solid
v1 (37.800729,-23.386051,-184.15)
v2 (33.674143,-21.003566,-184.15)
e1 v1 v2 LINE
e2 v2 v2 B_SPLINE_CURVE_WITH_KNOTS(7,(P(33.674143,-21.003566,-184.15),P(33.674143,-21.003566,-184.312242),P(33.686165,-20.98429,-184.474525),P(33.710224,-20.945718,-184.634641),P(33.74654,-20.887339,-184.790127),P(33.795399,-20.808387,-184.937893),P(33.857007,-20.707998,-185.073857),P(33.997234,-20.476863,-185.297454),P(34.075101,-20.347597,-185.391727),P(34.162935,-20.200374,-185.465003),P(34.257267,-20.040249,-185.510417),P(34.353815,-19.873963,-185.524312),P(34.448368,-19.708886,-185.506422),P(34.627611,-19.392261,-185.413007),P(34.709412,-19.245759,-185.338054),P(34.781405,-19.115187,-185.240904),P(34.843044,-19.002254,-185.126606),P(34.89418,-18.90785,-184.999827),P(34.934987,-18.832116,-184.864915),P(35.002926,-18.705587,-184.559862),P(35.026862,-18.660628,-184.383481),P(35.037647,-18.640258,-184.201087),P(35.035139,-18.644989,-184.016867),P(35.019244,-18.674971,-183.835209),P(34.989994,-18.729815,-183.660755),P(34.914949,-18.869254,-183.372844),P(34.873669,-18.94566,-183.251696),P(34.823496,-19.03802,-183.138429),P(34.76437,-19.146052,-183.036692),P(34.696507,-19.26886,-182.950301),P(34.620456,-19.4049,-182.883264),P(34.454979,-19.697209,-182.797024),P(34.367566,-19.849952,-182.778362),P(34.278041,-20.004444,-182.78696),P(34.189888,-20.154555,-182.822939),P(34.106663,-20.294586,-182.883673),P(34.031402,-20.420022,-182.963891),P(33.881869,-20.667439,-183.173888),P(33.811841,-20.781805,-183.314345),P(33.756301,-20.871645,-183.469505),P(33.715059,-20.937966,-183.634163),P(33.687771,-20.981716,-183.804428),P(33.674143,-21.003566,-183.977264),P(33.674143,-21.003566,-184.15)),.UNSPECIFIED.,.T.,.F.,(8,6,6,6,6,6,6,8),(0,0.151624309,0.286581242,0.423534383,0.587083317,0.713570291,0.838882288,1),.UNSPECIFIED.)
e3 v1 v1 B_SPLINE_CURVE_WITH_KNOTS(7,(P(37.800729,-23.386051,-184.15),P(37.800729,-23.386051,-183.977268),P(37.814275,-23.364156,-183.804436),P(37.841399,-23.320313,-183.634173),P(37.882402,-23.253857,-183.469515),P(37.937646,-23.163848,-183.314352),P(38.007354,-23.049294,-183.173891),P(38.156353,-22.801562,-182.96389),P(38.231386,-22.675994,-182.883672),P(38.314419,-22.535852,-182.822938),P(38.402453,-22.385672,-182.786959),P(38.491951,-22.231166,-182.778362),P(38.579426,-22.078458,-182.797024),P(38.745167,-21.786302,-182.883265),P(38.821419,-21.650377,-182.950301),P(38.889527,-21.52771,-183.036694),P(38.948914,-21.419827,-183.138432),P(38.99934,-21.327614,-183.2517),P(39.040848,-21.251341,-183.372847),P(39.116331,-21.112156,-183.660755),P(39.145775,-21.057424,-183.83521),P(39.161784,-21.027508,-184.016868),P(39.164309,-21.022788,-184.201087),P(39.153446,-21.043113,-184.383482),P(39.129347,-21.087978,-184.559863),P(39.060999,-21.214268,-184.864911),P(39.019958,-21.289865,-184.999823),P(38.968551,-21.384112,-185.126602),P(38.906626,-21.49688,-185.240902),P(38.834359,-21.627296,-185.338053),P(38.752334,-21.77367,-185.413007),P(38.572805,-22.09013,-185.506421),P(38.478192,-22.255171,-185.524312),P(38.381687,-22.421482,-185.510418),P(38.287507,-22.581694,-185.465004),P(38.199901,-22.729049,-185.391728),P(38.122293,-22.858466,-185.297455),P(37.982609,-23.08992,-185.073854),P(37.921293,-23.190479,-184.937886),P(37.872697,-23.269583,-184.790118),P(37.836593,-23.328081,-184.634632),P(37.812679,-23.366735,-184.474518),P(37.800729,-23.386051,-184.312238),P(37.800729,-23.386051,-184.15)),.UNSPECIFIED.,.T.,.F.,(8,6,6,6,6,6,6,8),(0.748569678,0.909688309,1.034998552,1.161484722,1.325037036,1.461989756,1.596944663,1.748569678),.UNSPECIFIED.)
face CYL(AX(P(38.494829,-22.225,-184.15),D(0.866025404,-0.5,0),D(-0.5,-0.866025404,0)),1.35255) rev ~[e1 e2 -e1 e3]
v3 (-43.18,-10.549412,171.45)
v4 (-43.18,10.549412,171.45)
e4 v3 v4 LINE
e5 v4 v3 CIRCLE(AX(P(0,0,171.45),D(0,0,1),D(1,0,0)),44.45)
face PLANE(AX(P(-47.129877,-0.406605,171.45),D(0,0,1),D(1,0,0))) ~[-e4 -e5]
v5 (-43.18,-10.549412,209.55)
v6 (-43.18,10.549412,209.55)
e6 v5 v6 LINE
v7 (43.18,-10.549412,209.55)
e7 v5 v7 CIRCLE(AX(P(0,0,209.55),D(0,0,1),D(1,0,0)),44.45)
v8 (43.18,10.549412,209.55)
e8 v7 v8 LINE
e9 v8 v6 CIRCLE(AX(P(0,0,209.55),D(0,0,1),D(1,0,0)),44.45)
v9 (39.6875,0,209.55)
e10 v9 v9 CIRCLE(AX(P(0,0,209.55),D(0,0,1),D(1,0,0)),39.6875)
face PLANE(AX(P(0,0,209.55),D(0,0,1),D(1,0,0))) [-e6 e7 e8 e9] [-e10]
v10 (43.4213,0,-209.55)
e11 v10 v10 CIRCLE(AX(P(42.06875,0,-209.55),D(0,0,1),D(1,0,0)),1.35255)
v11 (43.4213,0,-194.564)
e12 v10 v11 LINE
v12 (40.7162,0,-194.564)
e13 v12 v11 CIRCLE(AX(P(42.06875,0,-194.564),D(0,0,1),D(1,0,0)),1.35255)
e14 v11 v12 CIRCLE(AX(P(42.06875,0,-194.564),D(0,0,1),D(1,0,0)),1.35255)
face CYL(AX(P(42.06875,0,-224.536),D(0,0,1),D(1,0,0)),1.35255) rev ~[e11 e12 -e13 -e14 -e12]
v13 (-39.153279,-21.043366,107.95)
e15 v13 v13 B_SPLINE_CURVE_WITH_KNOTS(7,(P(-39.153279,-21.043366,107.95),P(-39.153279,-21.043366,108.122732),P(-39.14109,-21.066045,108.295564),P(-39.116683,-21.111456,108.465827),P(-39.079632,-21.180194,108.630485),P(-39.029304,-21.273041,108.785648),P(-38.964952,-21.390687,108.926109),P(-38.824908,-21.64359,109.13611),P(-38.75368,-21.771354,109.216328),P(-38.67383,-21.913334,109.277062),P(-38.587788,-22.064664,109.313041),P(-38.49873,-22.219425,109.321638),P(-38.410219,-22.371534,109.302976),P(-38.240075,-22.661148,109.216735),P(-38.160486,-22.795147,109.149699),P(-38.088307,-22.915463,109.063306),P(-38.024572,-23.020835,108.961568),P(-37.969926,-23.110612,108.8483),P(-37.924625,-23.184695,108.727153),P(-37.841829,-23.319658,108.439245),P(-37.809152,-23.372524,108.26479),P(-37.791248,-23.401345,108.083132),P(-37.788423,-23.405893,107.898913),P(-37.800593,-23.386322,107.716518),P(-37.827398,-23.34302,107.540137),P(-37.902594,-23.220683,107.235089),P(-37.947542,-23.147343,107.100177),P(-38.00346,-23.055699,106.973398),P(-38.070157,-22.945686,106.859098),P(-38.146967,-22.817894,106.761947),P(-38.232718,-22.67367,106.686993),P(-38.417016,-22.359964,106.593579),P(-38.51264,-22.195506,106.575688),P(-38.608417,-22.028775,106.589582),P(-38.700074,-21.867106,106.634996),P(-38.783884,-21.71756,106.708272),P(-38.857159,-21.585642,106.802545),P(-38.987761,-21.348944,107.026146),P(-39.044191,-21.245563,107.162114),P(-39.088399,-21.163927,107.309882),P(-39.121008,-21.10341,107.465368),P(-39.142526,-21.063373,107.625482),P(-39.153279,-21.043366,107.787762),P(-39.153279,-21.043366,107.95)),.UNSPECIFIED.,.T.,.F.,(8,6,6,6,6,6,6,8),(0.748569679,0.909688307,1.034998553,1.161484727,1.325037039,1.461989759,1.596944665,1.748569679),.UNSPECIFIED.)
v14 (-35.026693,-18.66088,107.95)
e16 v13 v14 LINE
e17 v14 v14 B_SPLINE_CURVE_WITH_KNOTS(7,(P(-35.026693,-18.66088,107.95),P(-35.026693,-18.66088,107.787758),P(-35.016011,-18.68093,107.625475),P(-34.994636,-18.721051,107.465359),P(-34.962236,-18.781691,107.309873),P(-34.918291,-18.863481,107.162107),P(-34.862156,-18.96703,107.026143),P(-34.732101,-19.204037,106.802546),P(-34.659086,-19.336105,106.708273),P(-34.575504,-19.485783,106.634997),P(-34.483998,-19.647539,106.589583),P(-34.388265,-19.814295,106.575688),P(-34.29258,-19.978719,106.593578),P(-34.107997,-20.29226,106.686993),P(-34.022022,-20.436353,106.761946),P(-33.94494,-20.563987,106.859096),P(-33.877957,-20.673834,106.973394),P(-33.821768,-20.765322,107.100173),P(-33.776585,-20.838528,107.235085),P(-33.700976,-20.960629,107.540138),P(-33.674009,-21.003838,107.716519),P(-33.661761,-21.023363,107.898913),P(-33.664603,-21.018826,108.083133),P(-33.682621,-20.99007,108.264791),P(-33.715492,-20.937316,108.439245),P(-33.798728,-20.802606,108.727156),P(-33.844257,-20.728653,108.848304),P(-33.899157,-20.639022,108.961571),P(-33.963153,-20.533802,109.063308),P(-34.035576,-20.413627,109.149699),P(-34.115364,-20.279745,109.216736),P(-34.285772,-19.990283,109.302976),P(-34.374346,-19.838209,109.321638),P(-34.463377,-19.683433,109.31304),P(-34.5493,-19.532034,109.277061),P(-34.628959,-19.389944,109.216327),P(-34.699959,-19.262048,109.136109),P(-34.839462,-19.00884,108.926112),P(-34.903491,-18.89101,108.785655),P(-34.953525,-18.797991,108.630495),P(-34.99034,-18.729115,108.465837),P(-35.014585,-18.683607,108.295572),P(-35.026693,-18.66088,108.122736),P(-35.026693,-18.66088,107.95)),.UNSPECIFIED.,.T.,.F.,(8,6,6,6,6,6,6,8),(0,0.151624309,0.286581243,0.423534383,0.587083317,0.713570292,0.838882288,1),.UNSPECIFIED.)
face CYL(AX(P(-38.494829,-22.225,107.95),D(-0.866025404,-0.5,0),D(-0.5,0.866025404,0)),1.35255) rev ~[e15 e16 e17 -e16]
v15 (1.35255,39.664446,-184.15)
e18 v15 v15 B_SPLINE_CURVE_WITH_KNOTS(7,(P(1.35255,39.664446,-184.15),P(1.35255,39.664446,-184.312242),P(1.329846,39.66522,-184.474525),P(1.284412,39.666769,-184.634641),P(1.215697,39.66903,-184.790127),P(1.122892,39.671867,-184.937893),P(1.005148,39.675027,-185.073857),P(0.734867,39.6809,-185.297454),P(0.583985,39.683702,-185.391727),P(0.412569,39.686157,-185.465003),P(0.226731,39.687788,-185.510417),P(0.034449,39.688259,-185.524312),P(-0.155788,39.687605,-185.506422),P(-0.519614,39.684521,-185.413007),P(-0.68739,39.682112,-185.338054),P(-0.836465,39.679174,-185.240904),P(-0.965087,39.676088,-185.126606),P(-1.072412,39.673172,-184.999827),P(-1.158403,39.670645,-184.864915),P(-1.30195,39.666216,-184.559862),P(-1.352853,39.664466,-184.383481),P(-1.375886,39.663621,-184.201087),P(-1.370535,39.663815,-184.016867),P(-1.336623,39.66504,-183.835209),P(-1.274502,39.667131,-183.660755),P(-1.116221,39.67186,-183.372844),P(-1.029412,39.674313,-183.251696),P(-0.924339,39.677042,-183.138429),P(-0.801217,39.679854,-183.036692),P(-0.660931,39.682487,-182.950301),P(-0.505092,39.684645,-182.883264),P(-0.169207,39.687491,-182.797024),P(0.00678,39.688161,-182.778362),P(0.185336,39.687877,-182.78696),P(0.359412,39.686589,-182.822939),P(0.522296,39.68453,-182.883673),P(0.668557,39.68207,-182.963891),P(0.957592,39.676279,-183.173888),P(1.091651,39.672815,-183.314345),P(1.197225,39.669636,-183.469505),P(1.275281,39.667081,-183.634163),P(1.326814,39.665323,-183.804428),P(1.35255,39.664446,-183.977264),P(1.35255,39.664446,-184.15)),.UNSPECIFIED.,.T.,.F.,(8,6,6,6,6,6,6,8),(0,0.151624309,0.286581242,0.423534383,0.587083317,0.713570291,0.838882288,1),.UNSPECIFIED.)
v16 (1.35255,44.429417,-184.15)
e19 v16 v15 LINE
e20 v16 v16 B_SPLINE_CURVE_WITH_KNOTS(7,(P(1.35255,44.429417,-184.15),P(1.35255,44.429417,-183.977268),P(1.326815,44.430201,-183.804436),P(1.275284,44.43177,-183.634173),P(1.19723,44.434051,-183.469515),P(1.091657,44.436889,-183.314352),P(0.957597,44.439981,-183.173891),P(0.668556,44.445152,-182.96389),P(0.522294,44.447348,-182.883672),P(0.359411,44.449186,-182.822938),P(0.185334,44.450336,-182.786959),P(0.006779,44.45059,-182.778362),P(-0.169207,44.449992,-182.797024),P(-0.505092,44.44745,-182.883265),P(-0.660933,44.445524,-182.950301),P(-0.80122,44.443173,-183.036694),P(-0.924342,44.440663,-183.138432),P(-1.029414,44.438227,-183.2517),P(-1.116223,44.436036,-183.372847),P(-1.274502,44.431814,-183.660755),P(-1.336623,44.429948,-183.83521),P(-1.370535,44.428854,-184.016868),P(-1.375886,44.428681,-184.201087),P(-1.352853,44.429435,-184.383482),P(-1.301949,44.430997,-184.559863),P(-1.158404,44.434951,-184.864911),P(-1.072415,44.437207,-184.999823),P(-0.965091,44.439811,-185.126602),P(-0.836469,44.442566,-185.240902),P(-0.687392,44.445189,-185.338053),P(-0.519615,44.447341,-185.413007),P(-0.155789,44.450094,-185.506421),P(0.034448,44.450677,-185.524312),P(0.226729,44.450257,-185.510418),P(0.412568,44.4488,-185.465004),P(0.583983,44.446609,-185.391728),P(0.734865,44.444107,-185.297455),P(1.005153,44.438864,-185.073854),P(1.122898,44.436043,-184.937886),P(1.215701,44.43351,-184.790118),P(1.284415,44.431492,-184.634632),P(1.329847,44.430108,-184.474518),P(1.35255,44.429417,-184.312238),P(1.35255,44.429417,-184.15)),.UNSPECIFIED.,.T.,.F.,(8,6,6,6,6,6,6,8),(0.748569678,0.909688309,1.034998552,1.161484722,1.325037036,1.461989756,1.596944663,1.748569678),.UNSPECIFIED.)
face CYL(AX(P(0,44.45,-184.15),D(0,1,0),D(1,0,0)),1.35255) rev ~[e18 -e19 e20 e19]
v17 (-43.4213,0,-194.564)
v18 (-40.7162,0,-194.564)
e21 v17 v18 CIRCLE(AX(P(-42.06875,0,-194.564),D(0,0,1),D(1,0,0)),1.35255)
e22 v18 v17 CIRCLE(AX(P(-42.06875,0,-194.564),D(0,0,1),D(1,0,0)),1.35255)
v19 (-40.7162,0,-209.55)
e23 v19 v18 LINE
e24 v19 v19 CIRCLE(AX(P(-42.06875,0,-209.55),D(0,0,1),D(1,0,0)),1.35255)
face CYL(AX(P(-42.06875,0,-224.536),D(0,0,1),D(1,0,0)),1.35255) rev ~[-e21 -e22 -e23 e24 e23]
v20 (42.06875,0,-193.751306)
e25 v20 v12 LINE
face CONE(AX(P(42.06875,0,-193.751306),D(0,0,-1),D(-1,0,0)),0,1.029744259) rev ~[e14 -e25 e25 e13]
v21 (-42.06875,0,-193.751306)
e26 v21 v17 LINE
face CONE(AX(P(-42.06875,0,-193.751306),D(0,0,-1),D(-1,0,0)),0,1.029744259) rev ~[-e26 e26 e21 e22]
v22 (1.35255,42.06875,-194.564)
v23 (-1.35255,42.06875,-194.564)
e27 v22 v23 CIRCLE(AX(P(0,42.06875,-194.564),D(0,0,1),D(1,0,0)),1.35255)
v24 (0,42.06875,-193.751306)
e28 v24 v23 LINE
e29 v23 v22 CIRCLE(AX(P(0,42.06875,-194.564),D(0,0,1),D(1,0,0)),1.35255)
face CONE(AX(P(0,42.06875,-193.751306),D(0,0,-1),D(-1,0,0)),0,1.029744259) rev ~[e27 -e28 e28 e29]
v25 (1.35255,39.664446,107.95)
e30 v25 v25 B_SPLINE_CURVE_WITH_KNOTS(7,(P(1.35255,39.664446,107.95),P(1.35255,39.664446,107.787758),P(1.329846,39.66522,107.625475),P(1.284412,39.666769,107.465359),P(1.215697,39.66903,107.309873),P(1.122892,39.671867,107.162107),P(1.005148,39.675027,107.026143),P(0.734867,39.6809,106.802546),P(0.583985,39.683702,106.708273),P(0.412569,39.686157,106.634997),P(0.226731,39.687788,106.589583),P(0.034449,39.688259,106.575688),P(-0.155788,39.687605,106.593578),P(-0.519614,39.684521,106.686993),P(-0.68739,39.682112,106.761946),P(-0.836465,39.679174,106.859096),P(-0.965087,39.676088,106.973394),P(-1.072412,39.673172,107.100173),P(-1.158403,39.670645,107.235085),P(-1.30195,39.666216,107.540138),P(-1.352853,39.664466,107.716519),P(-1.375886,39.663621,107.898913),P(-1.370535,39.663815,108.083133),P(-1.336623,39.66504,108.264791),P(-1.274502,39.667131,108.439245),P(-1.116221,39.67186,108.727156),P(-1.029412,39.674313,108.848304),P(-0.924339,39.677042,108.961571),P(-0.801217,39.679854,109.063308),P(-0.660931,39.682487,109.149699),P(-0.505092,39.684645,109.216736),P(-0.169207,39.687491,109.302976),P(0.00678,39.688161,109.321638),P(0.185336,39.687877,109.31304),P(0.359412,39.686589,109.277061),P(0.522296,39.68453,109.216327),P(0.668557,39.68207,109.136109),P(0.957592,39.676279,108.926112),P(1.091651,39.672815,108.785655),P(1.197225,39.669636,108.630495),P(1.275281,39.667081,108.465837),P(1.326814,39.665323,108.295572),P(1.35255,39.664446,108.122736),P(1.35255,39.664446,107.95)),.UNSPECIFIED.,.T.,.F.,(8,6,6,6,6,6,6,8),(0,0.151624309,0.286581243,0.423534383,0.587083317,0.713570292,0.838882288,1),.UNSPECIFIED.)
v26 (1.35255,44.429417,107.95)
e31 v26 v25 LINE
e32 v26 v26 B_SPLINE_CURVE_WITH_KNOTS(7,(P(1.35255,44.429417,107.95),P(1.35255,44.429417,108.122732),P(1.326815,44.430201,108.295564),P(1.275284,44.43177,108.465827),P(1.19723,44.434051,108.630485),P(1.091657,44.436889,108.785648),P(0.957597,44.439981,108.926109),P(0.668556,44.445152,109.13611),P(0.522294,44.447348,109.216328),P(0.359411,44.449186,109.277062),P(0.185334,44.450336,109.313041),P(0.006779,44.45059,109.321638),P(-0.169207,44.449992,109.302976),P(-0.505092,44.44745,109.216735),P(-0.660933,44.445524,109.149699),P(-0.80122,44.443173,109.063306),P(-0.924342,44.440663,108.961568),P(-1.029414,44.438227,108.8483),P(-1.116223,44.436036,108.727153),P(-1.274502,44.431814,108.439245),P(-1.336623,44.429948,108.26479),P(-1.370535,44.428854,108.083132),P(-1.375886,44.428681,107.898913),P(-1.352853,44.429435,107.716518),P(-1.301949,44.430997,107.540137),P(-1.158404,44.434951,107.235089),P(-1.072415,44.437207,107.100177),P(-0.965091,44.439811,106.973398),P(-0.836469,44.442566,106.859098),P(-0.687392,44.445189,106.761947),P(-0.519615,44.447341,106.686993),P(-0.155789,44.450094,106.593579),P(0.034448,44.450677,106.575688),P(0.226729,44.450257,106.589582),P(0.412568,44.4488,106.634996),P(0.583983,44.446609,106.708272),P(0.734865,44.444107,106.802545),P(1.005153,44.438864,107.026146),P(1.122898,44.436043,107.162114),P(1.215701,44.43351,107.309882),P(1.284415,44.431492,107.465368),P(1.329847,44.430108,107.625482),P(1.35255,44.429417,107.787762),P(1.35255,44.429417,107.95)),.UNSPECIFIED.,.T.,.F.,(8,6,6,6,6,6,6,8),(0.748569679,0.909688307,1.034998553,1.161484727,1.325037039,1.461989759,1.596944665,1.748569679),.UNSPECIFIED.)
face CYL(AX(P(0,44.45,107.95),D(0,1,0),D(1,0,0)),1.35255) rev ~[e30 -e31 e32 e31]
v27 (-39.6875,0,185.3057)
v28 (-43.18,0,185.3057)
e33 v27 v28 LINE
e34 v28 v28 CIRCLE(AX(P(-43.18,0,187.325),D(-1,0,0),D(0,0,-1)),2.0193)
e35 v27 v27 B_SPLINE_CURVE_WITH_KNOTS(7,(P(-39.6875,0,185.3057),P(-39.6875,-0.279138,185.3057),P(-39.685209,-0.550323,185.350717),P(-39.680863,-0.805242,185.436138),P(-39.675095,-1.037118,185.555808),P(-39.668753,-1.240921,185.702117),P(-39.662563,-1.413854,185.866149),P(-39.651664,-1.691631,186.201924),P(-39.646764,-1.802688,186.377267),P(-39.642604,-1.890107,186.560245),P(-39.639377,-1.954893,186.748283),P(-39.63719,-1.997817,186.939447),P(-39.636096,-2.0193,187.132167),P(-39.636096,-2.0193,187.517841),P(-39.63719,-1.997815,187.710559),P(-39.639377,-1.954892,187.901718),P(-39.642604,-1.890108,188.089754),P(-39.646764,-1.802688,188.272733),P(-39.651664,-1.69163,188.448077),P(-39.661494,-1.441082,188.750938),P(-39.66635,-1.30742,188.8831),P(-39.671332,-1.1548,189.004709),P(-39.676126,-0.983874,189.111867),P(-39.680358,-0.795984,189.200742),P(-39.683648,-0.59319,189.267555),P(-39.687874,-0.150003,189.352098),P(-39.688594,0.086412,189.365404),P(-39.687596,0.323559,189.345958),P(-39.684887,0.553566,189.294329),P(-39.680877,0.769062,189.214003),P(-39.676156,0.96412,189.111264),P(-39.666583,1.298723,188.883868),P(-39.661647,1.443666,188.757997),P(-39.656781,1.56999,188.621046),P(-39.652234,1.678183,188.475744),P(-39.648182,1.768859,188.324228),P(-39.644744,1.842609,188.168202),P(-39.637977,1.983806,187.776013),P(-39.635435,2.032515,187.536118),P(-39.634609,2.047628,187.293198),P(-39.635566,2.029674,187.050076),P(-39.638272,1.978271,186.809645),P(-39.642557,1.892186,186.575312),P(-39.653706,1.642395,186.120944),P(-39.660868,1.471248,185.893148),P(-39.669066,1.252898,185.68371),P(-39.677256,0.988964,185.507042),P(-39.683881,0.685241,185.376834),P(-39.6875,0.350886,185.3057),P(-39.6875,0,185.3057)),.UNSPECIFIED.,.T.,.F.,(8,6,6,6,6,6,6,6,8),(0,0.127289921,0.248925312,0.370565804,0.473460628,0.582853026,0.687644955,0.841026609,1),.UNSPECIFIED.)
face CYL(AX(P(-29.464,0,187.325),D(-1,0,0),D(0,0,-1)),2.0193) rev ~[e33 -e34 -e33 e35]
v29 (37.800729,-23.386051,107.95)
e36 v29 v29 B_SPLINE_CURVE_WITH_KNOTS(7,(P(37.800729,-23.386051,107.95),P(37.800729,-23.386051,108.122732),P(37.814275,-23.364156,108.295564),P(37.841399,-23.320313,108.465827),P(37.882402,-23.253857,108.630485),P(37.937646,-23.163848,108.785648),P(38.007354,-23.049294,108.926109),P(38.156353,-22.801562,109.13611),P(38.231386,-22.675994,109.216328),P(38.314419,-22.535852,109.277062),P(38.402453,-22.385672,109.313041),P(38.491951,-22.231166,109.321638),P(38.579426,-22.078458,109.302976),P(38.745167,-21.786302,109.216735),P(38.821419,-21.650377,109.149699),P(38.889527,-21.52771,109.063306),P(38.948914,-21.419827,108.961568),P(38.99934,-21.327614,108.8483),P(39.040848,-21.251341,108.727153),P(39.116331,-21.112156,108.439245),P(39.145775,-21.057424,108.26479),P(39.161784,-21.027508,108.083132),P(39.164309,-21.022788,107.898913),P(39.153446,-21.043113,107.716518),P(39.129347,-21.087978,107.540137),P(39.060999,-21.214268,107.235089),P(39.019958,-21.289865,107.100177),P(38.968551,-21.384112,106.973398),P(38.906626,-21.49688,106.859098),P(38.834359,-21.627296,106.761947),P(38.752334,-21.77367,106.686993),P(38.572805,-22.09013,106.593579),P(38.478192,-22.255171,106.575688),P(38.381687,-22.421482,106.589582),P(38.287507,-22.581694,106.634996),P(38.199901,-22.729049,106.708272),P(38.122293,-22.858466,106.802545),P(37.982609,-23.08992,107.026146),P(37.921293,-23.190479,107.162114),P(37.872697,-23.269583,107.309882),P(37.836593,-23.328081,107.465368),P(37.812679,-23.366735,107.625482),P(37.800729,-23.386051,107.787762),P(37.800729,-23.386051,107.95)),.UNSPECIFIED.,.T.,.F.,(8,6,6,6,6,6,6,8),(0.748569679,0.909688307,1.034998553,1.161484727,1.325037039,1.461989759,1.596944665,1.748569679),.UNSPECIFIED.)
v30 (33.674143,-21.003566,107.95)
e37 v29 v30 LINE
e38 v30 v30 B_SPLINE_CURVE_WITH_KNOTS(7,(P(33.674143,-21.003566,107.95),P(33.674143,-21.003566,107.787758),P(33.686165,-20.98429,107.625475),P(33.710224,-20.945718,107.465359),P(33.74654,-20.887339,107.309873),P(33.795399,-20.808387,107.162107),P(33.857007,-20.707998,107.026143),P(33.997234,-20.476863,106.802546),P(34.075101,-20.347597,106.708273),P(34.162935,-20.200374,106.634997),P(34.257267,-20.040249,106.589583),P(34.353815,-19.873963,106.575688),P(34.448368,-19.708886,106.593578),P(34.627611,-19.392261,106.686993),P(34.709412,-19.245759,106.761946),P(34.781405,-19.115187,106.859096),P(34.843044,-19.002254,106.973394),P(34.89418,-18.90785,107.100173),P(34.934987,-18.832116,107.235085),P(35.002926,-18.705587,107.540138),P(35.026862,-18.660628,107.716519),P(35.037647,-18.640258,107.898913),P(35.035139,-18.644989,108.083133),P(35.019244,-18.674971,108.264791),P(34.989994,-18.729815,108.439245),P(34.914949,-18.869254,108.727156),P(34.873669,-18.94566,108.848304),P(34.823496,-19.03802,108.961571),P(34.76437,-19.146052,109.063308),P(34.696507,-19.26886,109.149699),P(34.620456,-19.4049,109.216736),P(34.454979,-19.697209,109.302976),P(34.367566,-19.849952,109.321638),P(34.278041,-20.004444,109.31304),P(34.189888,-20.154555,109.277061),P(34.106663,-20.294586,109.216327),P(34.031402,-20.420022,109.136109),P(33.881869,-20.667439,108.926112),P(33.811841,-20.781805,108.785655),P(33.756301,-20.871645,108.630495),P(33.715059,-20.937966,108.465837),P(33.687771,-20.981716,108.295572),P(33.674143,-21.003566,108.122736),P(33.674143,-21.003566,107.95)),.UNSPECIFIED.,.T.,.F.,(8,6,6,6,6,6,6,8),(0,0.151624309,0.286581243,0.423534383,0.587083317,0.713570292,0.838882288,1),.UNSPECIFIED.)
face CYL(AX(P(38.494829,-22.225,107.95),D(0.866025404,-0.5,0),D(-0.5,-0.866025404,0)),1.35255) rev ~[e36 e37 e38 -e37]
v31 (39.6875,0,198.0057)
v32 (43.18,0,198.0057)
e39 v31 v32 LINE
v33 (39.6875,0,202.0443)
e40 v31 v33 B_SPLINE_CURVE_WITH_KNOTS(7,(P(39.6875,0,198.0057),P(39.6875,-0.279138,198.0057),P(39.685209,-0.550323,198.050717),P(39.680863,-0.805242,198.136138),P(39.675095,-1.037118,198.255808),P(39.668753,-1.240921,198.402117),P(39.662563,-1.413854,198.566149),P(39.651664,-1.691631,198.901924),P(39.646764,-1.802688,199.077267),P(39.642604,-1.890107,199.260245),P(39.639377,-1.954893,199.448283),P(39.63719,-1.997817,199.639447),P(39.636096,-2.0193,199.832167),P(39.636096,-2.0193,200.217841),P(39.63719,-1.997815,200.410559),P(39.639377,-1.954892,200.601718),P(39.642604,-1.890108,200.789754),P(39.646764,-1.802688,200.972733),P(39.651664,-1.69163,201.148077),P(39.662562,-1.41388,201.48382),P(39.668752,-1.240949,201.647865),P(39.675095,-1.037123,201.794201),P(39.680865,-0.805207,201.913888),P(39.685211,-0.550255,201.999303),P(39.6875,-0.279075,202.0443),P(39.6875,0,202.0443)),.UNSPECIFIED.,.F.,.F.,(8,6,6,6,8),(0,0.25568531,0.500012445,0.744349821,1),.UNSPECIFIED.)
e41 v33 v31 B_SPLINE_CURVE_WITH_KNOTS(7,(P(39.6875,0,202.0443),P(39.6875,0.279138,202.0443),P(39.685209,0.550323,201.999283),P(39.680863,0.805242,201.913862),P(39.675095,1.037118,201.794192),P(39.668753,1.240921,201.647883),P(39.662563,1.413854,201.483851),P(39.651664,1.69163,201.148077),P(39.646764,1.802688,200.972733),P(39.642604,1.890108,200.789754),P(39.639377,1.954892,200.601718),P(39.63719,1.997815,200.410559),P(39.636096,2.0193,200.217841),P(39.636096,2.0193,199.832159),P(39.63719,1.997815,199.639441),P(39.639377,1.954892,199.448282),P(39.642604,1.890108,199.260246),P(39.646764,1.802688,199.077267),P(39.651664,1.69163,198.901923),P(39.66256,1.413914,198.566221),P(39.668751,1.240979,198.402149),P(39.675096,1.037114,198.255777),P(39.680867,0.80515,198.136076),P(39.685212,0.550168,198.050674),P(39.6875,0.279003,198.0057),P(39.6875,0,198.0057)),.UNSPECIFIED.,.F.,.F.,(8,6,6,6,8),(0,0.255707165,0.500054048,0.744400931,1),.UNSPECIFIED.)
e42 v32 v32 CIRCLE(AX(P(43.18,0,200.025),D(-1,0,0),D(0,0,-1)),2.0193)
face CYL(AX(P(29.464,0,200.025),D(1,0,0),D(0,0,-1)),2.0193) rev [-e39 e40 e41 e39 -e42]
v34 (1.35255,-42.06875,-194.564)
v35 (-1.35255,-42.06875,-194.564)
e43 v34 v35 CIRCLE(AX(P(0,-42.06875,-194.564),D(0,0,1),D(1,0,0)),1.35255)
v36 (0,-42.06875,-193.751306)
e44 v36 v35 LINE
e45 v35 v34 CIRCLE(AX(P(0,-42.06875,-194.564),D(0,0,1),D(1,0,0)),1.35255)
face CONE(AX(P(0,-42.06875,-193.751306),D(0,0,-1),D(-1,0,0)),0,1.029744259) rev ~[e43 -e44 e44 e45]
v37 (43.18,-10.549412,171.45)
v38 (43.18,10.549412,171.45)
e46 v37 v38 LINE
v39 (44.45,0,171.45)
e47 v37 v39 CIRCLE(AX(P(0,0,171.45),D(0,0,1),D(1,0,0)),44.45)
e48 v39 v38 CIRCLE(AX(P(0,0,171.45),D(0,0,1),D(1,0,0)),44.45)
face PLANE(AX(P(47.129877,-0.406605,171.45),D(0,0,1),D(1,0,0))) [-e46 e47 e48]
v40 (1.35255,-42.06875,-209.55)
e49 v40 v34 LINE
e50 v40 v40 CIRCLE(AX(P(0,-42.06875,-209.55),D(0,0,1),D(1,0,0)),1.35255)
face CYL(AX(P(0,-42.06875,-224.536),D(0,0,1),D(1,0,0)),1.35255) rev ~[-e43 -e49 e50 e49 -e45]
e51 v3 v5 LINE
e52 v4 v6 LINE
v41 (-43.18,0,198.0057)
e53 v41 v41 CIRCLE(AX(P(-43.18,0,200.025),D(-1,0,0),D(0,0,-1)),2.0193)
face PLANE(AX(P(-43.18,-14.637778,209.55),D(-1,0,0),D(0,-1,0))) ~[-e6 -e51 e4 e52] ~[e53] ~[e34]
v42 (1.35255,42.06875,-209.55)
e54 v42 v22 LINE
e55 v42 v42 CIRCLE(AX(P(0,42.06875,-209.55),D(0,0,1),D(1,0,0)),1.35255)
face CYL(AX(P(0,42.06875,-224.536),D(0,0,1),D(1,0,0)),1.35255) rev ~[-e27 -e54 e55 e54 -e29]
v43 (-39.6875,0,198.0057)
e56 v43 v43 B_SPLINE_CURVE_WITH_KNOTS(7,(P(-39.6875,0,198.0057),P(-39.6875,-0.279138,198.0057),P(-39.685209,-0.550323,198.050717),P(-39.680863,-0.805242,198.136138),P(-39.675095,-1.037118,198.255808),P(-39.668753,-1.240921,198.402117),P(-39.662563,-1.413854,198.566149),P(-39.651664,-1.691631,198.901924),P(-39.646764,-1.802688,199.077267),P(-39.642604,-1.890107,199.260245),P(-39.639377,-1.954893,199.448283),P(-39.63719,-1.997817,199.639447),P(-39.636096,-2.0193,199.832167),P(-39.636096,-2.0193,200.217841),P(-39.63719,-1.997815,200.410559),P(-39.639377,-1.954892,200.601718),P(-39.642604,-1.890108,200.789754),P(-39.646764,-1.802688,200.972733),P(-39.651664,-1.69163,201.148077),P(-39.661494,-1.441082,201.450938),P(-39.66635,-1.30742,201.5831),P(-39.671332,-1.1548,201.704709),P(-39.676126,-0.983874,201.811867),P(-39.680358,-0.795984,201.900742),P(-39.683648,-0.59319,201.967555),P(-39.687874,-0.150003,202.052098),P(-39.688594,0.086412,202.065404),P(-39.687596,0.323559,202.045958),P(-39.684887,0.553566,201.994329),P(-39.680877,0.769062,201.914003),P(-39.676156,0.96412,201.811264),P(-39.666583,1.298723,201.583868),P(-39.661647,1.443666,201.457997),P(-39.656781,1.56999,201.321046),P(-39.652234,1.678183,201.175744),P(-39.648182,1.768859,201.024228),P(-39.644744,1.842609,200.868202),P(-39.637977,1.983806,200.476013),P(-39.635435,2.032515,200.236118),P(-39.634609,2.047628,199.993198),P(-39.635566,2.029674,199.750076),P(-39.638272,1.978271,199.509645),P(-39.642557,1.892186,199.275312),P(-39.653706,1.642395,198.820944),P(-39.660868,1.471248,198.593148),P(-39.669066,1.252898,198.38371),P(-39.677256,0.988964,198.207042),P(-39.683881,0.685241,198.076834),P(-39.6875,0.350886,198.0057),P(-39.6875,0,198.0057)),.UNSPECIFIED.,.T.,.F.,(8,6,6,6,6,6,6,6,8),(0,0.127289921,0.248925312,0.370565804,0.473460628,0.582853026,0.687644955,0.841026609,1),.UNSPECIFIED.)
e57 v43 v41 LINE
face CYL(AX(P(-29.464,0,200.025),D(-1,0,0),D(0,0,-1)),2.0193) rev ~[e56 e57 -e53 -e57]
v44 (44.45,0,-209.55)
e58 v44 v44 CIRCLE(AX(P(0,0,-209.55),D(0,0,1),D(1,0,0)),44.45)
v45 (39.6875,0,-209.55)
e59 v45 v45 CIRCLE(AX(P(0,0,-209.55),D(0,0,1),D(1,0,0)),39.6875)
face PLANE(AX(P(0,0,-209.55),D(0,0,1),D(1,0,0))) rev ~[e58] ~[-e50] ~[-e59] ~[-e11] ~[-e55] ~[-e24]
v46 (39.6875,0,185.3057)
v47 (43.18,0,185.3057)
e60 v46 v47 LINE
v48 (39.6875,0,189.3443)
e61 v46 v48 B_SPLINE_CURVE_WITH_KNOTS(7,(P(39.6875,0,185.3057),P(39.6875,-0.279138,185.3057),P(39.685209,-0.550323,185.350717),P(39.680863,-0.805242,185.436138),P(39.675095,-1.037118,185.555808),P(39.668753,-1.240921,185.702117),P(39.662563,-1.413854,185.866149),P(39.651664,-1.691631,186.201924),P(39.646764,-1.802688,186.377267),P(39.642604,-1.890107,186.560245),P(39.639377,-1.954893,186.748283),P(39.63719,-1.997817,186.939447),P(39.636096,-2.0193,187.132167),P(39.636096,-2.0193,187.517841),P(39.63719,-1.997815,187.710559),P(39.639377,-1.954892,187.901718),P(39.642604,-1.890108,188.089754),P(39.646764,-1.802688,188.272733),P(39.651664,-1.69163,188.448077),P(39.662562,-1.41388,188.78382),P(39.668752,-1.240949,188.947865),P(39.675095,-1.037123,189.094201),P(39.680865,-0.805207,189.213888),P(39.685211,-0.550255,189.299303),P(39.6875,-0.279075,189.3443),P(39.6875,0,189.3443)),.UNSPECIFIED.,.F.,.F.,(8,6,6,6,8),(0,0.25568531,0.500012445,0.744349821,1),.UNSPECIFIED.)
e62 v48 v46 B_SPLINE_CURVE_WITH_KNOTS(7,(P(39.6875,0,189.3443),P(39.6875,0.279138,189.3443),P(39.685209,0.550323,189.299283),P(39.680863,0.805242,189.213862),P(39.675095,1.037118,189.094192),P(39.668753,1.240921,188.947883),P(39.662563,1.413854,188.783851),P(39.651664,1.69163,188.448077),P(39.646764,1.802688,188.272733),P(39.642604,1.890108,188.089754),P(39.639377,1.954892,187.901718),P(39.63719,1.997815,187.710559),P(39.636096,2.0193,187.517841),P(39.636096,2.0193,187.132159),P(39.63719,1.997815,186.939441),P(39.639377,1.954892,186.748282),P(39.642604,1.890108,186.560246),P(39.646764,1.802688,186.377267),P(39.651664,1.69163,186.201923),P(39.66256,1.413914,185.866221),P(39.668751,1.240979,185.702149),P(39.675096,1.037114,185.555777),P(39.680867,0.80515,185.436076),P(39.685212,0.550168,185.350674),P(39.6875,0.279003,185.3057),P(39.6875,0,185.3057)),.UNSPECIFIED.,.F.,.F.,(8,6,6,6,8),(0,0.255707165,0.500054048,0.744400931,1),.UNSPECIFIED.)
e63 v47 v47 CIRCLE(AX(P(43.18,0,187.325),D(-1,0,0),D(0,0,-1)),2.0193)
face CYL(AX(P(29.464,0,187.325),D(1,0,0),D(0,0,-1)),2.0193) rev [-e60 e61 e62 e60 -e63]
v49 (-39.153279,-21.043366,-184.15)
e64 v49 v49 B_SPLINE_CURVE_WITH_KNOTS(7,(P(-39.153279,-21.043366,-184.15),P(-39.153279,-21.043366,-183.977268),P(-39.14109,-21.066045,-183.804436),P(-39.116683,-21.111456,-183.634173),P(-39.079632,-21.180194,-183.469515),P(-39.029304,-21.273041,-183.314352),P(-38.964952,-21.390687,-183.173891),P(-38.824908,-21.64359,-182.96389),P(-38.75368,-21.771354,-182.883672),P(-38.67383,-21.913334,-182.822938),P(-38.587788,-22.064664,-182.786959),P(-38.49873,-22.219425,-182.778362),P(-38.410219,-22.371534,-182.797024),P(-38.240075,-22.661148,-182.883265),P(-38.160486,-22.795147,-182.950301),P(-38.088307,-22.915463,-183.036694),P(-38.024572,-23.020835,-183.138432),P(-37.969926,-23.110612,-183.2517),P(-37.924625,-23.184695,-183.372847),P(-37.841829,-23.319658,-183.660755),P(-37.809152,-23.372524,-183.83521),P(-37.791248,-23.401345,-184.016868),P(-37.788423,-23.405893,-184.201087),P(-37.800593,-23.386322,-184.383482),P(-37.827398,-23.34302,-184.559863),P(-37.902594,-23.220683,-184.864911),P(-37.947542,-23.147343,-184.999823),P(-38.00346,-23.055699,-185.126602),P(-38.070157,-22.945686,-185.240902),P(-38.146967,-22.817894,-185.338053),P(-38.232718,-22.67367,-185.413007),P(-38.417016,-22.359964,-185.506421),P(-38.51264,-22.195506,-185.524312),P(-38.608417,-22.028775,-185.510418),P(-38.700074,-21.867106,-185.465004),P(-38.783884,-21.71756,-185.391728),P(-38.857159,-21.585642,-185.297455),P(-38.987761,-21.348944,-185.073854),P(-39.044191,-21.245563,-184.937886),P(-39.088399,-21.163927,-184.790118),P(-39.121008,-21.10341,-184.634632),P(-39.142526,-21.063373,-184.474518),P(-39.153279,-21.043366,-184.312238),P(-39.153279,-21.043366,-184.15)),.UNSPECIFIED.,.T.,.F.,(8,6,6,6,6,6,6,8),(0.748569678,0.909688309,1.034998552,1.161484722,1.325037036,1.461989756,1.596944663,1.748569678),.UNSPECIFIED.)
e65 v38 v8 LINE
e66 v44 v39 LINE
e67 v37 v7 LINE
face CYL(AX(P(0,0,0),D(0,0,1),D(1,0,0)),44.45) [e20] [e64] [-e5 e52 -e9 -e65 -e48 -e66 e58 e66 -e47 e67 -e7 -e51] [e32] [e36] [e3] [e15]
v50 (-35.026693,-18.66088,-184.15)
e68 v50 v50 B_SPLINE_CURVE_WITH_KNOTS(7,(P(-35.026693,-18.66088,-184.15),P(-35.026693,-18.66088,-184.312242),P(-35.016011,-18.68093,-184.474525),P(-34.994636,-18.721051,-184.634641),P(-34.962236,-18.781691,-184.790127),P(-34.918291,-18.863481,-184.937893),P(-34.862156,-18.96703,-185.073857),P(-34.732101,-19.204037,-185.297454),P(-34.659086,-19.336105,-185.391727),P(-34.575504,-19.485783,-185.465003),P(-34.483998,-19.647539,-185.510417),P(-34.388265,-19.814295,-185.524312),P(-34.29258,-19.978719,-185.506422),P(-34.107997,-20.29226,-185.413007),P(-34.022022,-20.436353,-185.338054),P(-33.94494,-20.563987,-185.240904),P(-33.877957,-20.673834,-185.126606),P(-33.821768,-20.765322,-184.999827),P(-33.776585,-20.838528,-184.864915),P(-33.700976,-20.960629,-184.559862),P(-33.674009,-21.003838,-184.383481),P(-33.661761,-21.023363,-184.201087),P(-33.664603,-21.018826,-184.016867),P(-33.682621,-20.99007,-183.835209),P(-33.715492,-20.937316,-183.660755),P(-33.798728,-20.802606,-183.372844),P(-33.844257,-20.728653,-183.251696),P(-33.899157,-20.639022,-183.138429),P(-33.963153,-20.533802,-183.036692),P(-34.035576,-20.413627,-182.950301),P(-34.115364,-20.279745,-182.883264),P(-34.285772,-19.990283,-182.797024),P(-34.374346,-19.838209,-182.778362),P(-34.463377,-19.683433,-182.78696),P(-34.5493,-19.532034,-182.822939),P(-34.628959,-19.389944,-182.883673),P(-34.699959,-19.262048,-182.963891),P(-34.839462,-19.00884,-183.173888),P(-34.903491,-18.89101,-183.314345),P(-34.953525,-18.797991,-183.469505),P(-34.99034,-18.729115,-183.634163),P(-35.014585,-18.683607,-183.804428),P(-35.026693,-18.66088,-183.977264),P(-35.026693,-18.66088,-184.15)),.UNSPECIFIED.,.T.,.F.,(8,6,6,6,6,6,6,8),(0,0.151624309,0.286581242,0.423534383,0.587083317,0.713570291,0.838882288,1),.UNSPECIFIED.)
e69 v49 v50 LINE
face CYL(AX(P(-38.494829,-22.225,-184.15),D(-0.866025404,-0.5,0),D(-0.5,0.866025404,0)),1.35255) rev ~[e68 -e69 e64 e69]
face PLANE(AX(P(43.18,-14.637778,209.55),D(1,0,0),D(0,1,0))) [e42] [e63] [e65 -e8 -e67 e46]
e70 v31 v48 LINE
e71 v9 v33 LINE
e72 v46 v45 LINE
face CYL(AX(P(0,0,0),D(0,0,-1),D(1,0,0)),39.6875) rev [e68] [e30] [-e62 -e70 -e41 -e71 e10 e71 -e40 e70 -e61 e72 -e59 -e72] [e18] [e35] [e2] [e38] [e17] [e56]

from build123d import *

# Parameters (mm, degrees)
SKETCH1_R                       = 44.45
SKETCH1_R_2                     = 39.6875
BOSS_EXTRUDE1_DEPTH             = 209.55
SKETCH2_W                       = 7.89975339
SKETCH2_H                       = 28.462346772
CUT_EXTRUDE1_DEPTH              = 38.1
F_10_32_TAPPED_HOLE1_AT_2_COUNT = 2
F_10_32_TAPPED_HOLE1_AT_2_PITCH = 12.7
F_6_32_TAPPED_HOLE1_D           = 2.7051
F_6_32_TAPPED_HOLE1_DEPTH       = 14.986
F_6_32_TAPPED_HOLE1_TIP         = 0.81269403
F_6_32_TAPPED_HOLE2_REACH       = 408.053
F_6_32_TAPPED_HOLE2_BORE_R      = 1.35255
CIRPATTERN1_COUNT               = 3


with BuildPart() as part:
    # Sketch1 → Boss-Extrude1 (new, symmetric)
    with BuildSketch(Plane.XY):
        Circle(SKETCH1_R)
        Circle(SKETCH1_R_2, mode=Mode.SUBTRACT)
    extrude(amount=BOSS_EXTRUDE1_DEPTH, both=True)

    # Sketch2 → Cut-Extrude1 (cut)
    with BuildSketch(Plane.XY.offset(209.55)):
        with Locations((47.129876695, -0.406604954)):
            Rectangle(SKETCH2_W, SKETCH2_H)
    cut_extrude1 = extrude(amount=-CUT_EXTRUDE1_DEPTH, mode=Mode.SUBTRACT)

    # Sketch3 → #10-32 Tapped Hole1 (revolve, cut)
    with BuildSketch(Plane(origin=(43.18, 0, 200.025), x_dir=(0, 0, -1), z_dir=(0, 1, 0))):
        Polygon((0, 0), (0, 14.929317848), (2.0193, 13.716), (2.0193, 0), align=None)
    f_10_32_tapped_hole1 = revolve(axis=Axis((49.53, 0, 200.025), (-1, 0, 0)), mode=Mode.SUBTRACT)

    # #10-32 Tapped Hole1 at 2: #10-32 Tapped Hole1 ×2
    with Locations(*[(0, 0, -i * F_10_32_TAPPED_HOLE1_AT_2_PITCH) for i in range(1, F_10_32_TAPPED_HOLE1_AT_2_COUNT)]):
        add(f_10_32_tapped_hole1, mode=Mode.SUBTRACT)

    # #6-32 Tapped Hole1
    with Locations(Plane(origin=(0, 0, -209.55), x_dir=(-1, 0, 0), z_dir=(0, 0, -1))):
        with Locations((0, 42.06875), (-42.06875, 0), (42.06875, 0), (0, -42.06875)):
            Hole(F_6_32_TAPPED_HOLE1_D / 2, depth=F_6_32_TAPPED_HOLE1_DEPTH)
            with Locations((0, 0, -(F_6_32_TAPPED_HOLE1_DEPTH + F_6_32_TAPPED_HOLE1_TIP / 2))):  # 118° drill point
                Cone(0, F_6_32_TAPPED_HOLE1_D / 2, F_6_32_TAPPED_HOLE1_TIP, mode=Mode.SUBTRACT)

    # Mirror1: Cut-Extrude1, #10-32 Tapped Hole1 across plane
    add(cut_extrude1.mirror(Plane(origin=(0, 0, 0), x_dir=(0, 0, 1), z_dir=(1, 0, 0))), mode=Mode.SUBTRACT)
    add(f_10_32_tapped_hole1.mirror(Plane(origin=(0, 0, 0), x_dir=(0, 0, 1), z_dir=(1, 0, 0))), mode=Mode.SUBTRACT)

    # Mirror1 copy 1 sketch → Mirror1 copy 1 (revolve, cut)
    with BuildSketch(Plane(origin=(-43.18, 0, 187.325), x_dir=(0, 0, -1), z_dir=(0, 1, 0))):
        Polygon((0, 0), (0, -14.929317848), (2.0193, -13.716), (2.0193, 0), align=None)
    revolve(axis=Axis((-49.53, 0, 187.325), (-1, 0, 0)), mode=Mode.SUBTRACT)

    # #6-32 Tapped Hole2 bore (on position points) → #6-32 Tapped Hole2 (cut, up to next)
    with BuildSketch(Plane(origin=(0, 44.45, -184.15), x_dir=(1, 0, 0), z_dir=(0, 1, 0)), mode=Mode.PRIVATE) as f_6_32_tapped_hole2_sk1:
        Circle(F_6_32_TAPPED_HOLE2_BORE_R)
    f_6_32_tapped_hole2_tool1 = extrude(f_6_32_tapped_hole2_sk1.sketch, amount=-F_6_32_TAPPED_HOLE2_REACH, mode=Mode.PRIVATE) & part.part
    # #6-32 Tapped Hole2 bore (on position points) → #6-32 Tapped Hole2 (cut, up to next)
    with BuildSketch(Plane(origin=(0, 44.45, -184.15), x_dir=(1, 0, 0), z_dir=(0, 1, 0)), mode=Mode.PRIVATE) as f_6_32_tapped_hole2_sk2:
        with Locations((0, -292.1)):
            Circle(F_6_32_TAPPED_HOLE2_BORE_R)
    f_6_32_tapped_hole2_tool2 = extrude(f_6_32_tapped_hole2_sk2.sketch, amount=-F_6_32_TAPPED_HOLE2_REACH, mode=Mode.PRIVATE) & part.part
    f_6_32_tapped_hole2_1 = f_6_32_tapped_hole2_tool1.solids().sort_by_distance((0, 44.45, -184.15))[0]
    add(f_6_32_tapped_hole2_1, mode=Mode.SUBTRACT)
    f_6_32_tapped_hole2_2 = f_6_32_tapped_hole2_tool2.solids().sort_by_distance((0, 44.45, 107.95))[0]
    add(f_6_32_tapped_hole2_2, mode=Mode.SUBTRACT)
    f_6_32_tapped_hole2 = f_6_32_tapped_hole2_1 + f_6_32_tapped_hole2_2  # #6-32 Tapped Hole2 as one shape, for the pattern or mirror that repeats it

    # CirPattern1: #6-32 Tapped Hole2 ×3 about axis
    cirpattern1_axis = Axis((0, 0, -209.55), (0, 0, 1))
    for i in range(1, CIRPATTERN1_COUNT):
        add(f_6_32_tapped_hole2.rotate(cirpattern1_axis, i * 360 / CIRPATTERN1_COUNT), mode=Mode.SUBTRACT)


solid = part.part
